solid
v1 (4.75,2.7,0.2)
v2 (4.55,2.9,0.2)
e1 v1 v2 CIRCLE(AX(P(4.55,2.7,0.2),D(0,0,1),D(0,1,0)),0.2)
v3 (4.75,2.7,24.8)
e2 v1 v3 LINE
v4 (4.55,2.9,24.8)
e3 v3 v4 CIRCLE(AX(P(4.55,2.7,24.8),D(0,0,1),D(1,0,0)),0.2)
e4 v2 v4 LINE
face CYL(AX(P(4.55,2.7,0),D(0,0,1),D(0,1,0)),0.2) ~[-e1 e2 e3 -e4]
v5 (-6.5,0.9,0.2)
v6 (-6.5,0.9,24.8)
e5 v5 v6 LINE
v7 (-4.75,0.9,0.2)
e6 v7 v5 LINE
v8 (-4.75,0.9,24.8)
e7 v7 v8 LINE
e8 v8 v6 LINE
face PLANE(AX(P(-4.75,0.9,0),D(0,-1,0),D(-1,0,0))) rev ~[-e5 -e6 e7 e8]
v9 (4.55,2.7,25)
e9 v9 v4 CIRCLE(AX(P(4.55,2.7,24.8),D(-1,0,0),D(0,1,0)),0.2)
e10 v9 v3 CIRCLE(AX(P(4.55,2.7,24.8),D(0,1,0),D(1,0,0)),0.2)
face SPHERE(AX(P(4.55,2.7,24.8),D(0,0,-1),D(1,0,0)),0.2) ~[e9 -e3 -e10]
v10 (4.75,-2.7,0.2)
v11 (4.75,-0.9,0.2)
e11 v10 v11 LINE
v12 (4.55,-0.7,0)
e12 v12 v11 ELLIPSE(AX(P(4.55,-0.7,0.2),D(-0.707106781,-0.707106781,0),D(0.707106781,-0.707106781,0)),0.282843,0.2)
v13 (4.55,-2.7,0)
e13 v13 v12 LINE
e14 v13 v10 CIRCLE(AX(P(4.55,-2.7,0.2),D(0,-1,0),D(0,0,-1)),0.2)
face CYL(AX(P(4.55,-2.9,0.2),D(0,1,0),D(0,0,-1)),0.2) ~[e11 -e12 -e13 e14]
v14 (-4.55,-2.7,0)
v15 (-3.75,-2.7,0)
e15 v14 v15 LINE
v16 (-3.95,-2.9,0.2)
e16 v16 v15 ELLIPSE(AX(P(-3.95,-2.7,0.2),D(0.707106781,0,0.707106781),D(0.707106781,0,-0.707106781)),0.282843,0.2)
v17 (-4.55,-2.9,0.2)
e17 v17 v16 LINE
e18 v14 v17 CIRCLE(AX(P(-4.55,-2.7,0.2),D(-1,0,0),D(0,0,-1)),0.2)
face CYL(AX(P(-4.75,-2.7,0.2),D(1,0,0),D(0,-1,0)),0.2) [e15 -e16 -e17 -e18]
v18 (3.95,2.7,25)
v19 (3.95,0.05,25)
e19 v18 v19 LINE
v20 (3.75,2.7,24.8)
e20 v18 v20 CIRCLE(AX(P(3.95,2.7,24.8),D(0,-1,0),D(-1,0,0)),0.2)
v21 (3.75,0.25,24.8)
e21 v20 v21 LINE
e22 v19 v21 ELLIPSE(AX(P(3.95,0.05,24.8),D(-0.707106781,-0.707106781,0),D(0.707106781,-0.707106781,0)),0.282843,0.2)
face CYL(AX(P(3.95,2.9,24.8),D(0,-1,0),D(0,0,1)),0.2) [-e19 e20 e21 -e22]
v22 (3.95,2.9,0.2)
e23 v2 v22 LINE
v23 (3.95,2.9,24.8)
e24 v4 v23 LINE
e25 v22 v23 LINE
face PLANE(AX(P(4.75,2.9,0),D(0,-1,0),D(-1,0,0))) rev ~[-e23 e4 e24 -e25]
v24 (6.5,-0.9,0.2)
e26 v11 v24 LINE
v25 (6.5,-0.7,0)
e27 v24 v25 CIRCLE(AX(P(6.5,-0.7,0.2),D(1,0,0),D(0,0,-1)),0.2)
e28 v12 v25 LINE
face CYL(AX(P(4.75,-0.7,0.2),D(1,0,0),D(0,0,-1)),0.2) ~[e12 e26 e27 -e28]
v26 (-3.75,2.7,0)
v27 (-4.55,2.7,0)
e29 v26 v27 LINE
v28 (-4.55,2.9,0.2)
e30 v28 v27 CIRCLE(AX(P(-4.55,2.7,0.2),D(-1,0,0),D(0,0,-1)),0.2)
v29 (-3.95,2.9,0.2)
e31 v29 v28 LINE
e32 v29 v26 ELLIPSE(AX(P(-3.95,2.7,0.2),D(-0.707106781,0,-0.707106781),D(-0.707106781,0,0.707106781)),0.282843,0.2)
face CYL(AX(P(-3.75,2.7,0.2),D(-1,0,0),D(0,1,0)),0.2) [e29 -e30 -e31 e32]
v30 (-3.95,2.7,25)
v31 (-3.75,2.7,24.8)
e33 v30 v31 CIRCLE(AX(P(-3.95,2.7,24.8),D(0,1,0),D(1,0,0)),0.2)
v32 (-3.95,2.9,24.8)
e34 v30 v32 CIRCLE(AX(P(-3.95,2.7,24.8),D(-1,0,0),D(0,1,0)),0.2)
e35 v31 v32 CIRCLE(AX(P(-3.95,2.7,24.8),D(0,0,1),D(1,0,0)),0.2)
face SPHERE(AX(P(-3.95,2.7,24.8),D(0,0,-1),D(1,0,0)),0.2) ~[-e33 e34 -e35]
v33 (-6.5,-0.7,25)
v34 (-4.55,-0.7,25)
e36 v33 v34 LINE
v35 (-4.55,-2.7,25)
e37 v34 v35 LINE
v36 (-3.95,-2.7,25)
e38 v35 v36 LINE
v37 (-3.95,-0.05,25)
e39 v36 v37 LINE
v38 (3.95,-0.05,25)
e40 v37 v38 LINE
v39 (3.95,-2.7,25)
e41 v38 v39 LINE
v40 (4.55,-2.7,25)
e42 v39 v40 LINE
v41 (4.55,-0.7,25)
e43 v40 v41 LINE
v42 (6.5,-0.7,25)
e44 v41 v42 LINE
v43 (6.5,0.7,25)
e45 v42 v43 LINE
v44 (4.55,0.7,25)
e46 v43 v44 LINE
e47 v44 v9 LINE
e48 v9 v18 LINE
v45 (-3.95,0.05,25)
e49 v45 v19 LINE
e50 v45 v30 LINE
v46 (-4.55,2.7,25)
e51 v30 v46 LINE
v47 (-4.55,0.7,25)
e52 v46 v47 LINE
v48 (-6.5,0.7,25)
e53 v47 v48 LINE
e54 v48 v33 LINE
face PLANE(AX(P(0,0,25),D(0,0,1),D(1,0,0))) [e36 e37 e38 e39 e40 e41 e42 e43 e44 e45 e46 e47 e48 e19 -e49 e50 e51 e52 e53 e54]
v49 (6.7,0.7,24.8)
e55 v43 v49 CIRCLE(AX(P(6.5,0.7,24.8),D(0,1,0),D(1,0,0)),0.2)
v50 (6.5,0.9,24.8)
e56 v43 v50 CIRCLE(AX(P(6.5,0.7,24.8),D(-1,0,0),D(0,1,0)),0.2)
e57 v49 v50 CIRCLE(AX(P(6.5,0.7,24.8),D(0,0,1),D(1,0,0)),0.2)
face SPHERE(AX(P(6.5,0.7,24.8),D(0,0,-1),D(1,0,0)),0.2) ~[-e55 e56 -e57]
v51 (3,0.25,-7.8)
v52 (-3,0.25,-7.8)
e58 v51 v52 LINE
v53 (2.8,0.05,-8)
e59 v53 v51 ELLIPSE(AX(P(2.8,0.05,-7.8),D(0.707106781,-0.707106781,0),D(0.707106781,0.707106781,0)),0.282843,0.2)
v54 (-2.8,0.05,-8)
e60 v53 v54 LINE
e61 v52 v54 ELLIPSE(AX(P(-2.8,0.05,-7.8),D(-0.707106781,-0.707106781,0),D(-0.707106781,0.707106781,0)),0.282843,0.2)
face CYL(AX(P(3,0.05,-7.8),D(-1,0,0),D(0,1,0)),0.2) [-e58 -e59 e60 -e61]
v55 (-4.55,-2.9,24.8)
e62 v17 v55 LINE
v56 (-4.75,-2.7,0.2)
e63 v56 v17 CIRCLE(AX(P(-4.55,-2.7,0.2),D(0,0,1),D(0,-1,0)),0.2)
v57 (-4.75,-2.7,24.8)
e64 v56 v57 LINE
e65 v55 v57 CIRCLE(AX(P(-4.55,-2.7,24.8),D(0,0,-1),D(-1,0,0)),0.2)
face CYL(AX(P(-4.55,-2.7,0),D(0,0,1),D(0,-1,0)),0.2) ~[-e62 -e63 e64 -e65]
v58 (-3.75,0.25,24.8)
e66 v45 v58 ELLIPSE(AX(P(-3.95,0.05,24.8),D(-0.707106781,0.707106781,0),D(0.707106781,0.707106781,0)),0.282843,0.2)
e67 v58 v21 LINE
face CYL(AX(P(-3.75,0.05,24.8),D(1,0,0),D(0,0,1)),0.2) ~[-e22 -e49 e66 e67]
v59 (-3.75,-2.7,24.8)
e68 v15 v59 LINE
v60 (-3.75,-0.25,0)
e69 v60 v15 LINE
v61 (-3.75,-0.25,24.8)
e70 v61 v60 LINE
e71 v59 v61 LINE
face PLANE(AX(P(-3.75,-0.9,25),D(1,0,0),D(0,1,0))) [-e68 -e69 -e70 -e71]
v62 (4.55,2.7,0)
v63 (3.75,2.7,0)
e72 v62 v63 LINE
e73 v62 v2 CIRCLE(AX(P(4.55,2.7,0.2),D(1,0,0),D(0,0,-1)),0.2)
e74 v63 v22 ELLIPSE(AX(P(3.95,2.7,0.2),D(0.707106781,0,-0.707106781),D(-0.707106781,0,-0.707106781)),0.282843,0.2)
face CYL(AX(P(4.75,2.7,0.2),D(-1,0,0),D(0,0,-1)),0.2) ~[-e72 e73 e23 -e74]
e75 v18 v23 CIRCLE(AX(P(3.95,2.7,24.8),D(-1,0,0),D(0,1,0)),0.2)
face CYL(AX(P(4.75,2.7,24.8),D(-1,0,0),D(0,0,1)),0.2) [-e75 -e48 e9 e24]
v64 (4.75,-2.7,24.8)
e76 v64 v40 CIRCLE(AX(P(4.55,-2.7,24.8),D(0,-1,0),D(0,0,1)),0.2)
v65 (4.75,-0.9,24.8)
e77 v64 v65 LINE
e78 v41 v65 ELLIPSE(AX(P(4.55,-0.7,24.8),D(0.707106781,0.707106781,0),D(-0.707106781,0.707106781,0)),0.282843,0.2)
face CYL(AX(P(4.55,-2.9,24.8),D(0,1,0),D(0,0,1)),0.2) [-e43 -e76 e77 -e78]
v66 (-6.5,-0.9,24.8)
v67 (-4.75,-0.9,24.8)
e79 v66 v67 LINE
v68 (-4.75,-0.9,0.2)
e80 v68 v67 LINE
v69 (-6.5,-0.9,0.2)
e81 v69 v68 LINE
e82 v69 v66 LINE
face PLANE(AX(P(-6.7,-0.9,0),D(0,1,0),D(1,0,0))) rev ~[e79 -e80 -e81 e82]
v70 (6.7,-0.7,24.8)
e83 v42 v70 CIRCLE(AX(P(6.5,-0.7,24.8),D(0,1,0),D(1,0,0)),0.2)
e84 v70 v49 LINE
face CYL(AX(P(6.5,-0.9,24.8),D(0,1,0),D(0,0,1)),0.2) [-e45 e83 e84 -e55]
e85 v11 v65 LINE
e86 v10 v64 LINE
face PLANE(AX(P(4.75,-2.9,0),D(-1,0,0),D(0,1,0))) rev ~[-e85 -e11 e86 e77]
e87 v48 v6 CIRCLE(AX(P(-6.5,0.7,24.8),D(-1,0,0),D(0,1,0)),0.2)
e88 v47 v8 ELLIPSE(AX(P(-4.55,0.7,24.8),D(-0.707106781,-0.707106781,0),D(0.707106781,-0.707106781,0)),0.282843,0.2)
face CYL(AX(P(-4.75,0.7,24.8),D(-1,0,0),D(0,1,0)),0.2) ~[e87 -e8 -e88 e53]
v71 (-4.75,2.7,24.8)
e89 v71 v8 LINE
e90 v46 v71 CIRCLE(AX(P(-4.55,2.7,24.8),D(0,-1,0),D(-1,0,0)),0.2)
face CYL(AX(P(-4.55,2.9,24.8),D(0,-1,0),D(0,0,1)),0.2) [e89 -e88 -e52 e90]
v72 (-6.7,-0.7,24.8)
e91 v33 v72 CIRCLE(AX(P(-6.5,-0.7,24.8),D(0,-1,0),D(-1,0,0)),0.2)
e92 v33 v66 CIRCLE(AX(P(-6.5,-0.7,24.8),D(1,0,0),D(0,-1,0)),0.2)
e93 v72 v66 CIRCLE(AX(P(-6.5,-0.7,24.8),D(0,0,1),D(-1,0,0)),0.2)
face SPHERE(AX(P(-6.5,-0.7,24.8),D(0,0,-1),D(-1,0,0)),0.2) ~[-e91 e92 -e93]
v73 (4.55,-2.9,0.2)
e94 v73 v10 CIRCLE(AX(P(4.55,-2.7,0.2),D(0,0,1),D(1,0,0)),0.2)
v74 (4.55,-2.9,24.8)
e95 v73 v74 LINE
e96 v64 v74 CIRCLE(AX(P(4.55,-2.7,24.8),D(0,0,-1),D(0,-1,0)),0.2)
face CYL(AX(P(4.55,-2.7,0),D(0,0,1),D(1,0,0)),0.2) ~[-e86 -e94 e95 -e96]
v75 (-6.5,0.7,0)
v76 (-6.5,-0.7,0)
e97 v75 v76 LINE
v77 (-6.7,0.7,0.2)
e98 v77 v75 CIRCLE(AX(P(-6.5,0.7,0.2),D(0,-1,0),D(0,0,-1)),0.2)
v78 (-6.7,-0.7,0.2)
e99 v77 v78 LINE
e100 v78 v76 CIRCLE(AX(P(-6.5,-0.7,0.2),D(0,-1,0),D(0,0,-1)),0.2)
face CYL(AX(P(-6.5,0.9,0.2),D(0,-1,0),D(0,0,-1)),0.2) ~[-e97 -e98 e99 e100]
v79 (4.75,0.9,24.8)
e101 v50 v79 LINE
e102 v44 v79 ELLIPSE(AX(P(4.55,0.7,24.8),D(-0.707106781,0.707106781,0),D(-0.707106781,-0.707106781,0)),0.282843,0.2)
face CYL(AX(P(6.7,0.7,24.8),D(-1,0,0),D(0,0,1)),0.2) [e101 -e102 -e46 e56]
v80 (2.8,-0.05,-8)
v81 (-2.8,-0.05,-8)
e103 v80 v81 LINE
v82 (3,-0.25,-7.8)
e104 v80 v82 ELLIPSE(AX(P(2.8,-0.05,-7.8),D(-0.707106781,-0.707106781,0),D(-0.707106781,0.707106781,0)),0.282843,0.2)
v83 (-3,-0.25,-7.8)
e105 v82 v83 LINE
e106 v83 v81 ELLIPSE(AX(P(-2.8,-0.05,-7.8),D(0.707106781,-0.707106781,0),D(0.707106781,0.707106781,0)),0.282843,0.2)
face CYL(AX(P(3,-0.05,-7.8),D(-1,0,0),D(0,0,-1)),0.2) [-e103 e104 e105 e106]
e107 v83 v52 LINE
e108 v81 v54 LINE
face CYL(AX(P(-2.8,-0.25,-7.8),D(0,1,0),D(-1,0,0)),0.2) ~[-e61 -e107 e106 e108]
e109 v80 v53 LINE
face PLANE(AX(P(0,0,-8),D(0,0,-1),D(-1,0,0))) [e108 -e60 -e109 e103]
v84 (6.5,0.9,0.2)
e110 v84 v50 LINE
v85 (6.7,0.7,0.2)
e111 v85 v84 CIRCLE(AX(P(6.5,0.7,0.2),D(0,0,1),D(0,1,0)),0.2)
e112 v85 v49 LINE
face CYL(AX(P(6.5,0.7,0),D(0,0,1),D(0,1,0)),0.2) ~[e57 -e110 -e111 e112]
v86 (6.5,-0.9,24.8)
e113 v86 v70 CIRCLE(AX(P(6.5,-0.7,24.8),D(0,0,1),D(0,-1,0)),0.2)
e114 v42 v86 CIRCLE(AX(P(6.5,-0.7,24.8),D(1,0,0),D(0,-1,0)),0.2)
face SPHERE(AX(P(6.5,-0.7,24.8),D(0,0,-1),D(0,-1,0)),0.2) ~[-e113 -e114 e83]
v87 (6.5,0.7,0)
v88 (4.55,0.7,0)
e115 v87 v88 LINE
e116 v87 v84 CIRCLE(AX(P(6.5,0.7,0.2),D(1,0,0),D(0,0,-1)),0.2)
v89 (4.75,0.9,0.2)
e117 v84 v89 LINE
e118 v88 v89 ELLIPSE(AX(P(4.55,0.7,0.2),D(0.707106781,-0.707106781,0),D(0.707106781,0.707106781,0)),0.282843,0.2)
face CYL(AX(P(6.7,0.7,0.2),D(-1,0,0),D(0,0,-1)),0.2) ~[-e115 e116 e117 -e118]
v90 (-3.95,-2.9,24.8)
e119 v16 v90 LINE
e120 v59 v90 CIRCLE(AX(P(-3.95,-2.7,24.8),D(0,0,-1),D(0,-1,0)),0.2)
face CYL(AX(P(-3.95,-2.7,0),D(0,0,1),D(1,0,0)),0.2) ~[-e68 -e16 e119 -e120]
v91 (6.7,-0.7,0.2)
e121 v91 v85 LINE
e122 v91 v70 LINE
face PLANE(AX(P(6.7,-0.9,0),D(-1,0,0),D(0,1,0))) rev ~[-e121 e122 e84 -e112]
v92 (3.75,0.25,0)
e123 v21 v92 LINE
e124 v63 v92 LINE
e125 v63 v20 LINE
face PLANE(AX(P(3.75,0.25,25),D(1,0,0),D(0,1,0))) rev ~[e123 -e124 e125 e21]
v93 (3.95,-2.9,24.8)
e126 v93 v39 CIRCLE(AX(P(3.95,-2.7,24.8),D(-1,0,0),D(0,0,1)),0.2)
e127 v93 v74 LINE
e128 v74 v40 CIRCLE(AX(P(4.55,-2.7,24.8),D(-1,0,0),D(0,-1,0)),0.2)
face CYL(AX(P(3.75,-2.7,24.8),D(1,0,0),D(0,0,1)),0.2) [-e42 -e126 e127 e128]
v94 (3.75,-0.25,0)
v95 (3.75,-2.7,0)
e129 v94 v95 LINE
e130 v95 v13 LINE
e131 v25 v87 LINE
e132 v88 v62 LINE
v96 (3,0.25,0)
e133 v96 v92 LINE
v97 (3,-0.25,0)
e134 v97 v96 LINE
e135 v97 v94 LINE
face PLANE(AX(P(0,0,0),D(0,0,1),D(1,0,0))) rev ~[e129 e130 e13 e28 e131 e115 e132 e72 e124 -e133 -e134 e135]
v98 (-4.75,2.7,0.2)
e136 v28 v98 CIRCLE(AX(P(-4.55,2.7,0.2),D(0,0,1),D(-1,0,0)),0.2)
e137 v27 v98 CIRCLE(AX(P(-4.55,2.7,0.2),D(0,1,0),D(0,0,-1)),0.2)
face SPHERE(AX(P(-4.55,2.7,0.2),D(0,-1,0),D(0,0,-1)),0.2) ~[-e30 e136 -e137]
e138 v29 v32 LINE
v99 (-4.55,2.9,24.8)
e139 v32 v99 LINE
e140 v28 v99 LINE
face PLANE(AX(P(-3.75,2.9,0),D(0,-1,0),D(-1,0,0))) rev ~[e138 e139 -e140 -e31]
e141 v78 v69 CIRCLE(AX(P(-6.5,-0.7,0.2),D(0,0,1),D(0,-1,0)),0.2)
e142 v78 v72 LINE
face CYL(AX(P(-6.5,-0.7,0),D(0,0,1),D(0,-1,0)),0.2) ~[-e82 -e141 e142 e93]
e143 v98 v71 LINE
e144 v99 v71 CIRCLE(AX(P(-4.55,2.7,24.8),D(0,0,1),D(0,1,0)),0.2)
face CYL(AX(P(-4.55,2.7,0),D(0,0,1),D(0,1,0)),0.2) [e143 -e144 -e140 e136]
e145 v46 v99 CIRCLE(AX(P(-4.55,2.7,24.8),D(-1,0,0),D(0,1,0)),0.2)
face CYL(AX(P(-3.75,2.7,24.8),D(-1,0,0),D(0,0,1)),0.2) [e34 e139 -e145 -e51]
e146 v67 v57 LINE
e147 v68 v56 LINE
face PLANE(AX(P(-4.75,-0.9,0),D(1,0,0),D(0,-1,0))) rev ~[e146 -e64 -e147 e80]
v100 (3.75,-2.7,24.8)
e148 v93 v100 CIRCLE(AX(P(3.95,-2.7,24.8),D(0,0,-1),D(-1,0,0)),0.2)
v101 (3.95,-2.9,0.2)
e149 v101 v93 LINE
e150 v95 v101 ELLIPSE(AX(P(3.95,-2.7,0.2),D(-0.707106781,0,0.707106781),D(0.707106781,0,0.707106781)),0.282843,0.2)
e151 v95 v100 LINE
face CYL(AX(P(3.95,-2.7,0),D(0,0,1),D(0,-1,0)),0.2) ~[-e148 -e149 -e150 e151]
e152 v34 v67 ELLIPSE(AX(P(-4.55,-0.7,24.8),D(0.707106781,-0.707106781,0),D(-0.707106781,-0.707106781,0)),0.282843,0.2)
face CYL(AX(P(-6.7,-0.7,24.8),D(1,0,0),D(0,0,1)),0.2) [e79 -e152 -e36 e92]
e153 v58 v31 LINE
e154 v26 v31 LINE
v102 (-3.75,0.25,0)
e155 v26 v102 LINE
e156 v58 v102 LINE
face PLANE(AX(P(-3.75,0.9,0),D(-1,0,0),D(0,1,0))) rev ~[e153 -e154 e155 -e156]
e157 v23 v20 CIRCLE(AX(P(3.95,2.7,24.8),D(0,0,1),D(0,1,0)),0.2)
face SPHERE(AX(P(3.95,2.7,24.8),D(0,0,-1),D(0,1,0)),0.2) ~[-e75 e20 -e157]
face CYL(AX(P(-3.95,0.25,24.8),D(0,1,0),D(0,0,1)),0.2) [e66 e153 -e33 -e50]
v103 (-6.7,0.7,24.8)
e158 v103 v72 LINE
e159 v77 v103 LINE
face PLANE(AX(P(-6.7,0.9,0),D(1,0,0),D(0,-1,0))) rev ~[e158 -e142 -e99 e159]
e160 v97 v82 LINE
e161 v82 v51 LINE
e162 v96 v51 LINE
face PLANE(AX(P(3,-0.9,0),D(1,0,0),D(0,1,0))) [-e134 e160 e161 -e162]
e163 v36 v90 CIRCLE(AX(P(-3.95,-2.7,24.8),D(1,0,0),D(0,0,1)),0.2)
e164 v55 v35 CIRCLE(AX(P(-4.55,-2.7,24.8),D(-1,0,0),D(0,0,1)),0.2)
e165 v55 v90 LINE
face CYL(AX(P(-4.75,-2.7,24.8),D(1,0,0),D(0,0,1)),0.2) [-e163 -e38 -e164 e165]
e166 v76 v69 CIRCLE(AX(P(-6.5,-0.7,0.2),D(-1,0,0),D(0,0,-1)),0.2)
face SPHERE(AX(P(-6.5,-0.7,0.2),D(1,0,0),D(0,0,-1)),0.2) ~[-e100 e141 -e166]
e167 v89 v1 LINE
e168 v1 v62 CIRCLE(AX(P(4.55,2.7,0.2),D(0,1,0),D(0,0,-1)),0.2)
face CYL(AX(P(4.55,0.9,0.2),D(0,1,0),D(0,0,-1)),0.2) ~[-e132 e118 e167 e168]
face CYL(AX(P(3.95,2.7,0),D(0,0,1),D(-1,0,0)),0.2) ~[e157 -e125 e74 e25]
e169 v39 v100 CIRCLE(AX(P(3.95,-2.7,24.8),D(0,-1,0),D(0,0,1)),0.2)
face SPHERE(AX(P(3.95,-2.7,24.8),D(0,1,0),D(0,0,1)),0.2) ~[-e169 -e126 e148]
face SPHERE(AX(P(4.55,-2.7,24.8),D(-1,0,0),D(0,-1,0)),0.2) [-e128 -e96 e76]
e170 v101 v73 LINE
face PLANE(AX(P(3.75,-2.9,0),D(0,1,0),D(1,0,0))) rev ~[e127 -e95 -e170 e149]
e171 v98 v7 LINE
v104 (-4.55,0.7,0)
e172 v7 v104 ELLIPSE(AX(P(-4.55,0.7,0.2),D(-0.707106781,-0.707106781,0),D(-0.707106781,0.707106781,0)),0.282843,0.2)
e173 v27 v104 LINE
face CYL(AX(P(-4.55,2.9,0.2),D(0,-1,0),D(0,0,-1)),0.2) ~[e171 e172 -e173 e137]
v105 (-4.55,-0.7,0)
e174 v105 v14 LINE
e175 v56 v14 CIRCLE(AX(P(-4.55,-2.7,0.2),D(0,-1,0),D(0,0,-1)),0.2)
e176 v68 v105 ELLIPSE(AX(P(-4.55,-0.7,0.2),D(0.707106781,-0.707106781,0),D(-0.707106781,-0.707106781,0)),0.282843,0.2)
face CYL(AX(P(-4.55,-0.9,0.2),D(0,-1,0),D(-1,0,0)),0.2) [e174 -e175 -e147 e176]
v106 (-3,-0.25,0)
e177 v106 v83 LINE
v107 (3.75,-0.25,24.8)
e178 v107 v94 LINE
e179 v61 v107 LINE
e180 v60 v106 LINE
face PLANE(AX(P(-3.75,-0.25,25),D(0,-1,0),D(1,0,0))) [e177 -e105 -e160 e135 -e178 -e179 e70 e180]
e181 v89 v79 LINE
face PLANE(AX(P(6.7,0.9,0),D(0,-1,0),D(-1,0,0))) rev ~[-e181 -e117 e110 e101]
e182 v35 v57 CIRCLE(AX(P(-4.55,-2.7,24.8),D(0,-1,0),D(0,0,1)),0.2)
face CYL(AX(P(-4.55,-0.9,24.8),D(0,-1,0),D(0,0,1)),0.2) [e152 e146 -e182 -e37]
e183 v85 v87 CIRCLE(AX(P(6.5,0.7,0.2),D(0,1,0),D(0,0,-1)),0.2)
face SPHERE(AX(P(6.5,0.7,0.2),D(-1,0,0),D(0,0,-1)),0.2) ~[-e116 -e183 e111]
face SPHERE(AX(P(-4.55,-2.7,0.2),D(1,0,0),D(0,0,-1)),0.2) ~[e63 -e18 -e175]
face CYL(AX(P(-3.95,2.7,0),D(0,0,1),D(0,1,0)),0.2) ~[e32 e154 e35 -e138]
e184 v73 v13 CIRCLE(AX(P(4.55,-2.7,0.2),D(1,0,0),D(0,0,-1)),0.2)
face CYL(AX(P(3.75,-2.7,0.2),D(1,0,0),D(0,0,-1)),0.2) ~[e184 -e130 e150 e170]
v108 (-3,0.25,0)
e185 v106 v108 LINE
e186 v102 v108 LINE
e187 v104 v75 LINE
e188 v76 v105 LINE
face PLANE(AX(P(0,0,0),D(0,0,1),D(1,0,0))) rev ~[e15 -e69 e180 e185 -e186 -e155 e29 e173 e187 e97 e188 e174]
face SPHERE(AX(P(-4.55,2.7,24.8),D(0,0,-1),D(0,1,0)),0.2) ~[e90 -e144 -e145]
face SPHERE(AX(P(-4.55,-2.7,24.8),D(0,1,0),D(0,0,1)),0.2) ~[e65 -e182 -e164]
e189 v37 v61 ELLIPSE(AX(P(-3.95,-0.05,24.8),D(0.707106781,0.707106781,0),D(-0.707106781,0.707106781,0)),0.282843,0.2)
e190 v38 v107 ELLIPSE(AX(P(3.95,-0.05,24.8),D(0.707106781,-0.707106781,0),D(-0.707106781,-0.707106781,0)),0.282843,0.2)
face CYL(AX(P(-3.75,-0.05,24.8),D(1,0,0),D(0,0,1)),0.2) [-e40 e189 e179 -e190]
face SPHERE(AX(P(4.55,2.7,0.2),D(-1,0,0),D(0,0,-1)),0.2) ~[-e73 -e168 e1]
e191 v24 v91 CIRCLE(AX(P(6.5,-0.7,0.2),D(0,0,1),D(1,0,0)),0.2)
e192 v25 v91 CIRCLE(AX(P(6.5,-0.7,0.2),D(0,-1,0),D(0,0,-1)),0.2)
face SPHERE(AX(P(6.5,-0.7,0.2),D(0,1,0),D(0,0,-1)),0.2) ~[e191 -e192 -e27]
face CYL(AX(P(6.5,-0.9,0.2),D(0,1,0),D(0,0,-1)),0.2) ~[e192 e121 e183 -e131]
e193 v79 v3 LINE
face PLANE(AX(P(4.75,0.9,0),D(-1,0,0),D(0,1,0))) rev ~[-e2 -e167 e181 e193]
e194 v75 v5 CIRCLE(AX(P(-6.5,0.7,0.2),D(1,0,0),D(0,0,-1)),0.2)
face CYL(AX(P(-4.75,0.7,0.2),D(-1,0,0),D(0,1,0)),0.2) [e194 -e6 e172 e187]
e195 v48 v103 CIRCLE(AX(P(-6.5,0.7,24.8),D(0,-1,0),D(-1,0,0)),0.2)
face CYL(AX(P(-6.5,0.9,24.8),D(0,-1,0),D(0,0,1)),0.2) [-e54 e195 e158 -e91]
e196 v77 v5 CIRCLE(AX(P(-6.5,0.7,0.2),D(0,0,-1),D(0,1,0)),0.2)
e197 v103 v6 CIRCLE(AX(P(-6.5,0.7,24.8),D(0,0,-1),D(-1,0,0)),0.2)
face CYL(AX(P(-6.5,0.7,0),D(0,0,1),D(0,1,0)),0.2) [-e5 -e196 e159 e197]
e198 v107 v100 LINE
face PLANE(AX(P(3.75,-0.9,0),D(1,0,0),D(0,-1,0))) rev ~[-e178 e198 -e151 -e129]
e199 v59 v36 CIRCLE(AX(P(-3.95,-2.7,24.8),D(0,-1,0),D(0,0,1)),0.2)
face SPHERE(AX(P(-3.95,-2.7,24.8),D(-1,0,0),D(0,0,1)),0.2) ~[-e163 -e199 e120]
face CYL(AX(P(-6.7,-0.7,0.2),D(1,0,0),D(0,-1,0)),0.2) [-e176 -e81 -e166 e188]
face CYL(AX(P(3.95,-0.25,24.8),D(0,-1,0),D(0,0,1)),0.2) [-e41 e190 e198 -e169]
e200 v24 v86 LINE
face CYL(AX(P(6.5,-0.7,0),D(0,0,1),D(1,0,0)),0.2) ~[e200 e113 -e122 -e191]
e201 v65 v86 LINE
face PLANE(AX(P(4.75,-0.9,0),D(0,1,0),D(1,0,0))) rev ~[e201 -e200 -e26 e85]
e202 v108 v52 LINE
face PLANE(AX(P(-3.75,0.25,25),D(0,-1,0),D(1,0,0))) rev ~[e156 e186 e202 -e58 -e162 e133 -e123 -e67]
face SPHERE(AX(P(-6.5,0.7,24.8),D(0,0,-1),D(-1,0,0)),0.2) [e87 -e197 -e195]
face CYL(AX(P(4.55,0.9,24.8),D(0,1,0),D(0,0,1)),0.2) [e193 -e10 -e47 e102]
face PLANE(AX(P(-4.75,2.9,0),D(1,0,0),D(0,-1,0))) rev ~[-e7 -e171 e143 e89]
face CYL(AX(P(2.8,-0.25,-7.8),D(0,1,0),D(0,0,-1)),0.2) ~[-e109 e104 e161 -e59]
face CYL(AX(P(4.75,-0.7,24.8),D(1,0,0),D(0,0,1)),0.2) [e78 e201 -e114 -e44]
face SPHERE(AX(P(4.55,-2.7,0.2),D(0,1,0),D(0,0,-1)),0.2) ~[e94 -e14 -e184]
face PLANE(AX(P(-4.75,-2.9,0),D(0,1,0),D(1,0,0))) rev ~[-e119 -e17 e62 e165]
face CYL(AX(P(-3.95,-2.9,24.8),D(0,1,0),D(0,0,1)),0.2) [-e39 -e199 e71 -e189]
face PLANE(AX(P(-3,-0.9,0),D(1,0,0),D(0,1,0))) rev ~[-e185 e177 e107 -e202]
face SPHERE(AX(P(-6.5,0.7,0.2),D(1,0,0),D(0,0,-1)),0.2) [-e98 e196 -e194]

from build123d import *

# Parameters (mm, degrees)
AUFSATZ_LINEAR_AUSTRAGEN1_DEPTH = 25
SKIZZE2_W                       = 6
SKIZZE2_H                       = 1.8
AUFSATZ_LINEAR_AUSTRAGEN2_DEPTH = 8
SKIZZE3_W                       = 7.5
SKIZZE3_H                       = 0.65
SCHNITT_LINEAR_AUSTRAGEN1_DEPTH = 34
VERRUNDUNG1_R                   = 0.2


with BuildPart() as part:
    # Skizze1 → Aufsatz-Linear austragen1 (new body)
    with BuildSketch(Plane.XY):
        Polygon((-4.75, 0.9), (-6.7, 0.9), (-6.7, -0.9), (-4.75, -0.9), (-4.75, -2.9), (-3.75, -2.9), (-3.75, -0.9), (3.75, -0.9), (3.75, -2.9), (4.75, -2.9), (4.75, -0.9), (6.7, -0.9), (6.7, 0.9), (4.75, 0.9), (4.75, 2.9), (3.75, 2.9), (3.75, 0.9), (-3.75, 0.9), (-3.75, 2.9), (-4.75, 2.9), align=None)
    extrude(amount=AUFSATZ_LINEAR_AUSTRAGEN1_DEPTH)

    # Skizze2 → Aufsatz-Linear austragen2 (add)
    with BuildSketch(Plane(origin=(0, 0, 0), x_dir=(-1, 0, 0), z_dir=(0, 0, -1))):
        Rectangle(SKIZZE2_W, SKIZZE2_H)
    extrude(amount=AUFSATZ_LINEAR_AUSTRAGEN2_DEPTH)

    # Skizze3 → Schnitt-Linear austragen1 (cut, through all)
    with BuildSketch(Plane.XY.offset(25)):
        with Locations((0, -0.575)):
            Rectangle(SKIZZE3_W, SKIZZE3_H)
        with Locations((0, 0.575)):
            Rectangle(SKIZZE3_W, SKIZZE3_H)
    extrude(amount=-SCHNITT_LINEAR_AUSTRAGEN1_DEPTH, mode=Mode.SUBTRACT)

    # Verrundung1
    verrundung1_edges = [part.edges().sort_by_distance(p)[0] for p in [
        (0, 0.25, 25),
        (-4.75, -1.9, 25),
        (-4.25, -2.9, 25),
        (-5.725, 0.9, 0),
        (-4.75, 1.9, 0),
        (-4.25, 2.9, 0),
        (-3.75, -1.575, 25),
        (4.25, 2.9, 0),
        (4.75, 1.9, 0),
        (5.725, 0.9, 0),
        (6.7, 0, 0),
        (5.725, -0.9, 0),
        (4.75, -1.9, 0),
        (4.25, -2.9, 0),
        (-4.25, -2.9, 0),
        (-4.75, -1.9, 0),
        (-5.725, -0.9, 0),
        (-6.7, 0, 0),
        (3.75, -1.575, 25),
        (4.25, -2.9, 25),
        (-6.7, 0.9, 12.5),
        (-4.75, 2.9, 12.5),
        (-3.75, 2.9, 12.5),
        (3.75, 2.9, 12.5),
        (4.75, 2.9, 12.5),
        (6.7, 0.9, 12.5),
        (6.7, -0.9, 12.5),
        (4.75, -2.9, 12.5),
        (3.75, -2.9, 12.5),
        (-3.75, -2.9, 12.5),
        (-4.75, -2.9, 12.5),
        (-6.7, -0.9, 12.5),
        (4.75, -1.9, 25),
        (5.725, -0.9, 25),
        (6.7, 0, 25),
        (5.725, 0.9, 25),
        (-6.7, 0, 25),
        (4.75, 1.9, 25),
        (4.25, 2.9, 25),
        (3.75, 1.575, 25),
        (-3.75, 1.575, 25),
        (3, 0, -8),
        (-3, 0, -8),
        (-4.25, 2.9, 25),
        (0, 0.25, -8),
        (0, -0.25, -8),
        (-4.75, 1.9, 25),
        (-5.725, 0.9, 25),
        (0, -0.25, 25),
        (-5.725, -0.9, 25),
    ]]
    fillet(verrundung1_edges, radius=VERRUNDUNG1_R)


solid = part.part
